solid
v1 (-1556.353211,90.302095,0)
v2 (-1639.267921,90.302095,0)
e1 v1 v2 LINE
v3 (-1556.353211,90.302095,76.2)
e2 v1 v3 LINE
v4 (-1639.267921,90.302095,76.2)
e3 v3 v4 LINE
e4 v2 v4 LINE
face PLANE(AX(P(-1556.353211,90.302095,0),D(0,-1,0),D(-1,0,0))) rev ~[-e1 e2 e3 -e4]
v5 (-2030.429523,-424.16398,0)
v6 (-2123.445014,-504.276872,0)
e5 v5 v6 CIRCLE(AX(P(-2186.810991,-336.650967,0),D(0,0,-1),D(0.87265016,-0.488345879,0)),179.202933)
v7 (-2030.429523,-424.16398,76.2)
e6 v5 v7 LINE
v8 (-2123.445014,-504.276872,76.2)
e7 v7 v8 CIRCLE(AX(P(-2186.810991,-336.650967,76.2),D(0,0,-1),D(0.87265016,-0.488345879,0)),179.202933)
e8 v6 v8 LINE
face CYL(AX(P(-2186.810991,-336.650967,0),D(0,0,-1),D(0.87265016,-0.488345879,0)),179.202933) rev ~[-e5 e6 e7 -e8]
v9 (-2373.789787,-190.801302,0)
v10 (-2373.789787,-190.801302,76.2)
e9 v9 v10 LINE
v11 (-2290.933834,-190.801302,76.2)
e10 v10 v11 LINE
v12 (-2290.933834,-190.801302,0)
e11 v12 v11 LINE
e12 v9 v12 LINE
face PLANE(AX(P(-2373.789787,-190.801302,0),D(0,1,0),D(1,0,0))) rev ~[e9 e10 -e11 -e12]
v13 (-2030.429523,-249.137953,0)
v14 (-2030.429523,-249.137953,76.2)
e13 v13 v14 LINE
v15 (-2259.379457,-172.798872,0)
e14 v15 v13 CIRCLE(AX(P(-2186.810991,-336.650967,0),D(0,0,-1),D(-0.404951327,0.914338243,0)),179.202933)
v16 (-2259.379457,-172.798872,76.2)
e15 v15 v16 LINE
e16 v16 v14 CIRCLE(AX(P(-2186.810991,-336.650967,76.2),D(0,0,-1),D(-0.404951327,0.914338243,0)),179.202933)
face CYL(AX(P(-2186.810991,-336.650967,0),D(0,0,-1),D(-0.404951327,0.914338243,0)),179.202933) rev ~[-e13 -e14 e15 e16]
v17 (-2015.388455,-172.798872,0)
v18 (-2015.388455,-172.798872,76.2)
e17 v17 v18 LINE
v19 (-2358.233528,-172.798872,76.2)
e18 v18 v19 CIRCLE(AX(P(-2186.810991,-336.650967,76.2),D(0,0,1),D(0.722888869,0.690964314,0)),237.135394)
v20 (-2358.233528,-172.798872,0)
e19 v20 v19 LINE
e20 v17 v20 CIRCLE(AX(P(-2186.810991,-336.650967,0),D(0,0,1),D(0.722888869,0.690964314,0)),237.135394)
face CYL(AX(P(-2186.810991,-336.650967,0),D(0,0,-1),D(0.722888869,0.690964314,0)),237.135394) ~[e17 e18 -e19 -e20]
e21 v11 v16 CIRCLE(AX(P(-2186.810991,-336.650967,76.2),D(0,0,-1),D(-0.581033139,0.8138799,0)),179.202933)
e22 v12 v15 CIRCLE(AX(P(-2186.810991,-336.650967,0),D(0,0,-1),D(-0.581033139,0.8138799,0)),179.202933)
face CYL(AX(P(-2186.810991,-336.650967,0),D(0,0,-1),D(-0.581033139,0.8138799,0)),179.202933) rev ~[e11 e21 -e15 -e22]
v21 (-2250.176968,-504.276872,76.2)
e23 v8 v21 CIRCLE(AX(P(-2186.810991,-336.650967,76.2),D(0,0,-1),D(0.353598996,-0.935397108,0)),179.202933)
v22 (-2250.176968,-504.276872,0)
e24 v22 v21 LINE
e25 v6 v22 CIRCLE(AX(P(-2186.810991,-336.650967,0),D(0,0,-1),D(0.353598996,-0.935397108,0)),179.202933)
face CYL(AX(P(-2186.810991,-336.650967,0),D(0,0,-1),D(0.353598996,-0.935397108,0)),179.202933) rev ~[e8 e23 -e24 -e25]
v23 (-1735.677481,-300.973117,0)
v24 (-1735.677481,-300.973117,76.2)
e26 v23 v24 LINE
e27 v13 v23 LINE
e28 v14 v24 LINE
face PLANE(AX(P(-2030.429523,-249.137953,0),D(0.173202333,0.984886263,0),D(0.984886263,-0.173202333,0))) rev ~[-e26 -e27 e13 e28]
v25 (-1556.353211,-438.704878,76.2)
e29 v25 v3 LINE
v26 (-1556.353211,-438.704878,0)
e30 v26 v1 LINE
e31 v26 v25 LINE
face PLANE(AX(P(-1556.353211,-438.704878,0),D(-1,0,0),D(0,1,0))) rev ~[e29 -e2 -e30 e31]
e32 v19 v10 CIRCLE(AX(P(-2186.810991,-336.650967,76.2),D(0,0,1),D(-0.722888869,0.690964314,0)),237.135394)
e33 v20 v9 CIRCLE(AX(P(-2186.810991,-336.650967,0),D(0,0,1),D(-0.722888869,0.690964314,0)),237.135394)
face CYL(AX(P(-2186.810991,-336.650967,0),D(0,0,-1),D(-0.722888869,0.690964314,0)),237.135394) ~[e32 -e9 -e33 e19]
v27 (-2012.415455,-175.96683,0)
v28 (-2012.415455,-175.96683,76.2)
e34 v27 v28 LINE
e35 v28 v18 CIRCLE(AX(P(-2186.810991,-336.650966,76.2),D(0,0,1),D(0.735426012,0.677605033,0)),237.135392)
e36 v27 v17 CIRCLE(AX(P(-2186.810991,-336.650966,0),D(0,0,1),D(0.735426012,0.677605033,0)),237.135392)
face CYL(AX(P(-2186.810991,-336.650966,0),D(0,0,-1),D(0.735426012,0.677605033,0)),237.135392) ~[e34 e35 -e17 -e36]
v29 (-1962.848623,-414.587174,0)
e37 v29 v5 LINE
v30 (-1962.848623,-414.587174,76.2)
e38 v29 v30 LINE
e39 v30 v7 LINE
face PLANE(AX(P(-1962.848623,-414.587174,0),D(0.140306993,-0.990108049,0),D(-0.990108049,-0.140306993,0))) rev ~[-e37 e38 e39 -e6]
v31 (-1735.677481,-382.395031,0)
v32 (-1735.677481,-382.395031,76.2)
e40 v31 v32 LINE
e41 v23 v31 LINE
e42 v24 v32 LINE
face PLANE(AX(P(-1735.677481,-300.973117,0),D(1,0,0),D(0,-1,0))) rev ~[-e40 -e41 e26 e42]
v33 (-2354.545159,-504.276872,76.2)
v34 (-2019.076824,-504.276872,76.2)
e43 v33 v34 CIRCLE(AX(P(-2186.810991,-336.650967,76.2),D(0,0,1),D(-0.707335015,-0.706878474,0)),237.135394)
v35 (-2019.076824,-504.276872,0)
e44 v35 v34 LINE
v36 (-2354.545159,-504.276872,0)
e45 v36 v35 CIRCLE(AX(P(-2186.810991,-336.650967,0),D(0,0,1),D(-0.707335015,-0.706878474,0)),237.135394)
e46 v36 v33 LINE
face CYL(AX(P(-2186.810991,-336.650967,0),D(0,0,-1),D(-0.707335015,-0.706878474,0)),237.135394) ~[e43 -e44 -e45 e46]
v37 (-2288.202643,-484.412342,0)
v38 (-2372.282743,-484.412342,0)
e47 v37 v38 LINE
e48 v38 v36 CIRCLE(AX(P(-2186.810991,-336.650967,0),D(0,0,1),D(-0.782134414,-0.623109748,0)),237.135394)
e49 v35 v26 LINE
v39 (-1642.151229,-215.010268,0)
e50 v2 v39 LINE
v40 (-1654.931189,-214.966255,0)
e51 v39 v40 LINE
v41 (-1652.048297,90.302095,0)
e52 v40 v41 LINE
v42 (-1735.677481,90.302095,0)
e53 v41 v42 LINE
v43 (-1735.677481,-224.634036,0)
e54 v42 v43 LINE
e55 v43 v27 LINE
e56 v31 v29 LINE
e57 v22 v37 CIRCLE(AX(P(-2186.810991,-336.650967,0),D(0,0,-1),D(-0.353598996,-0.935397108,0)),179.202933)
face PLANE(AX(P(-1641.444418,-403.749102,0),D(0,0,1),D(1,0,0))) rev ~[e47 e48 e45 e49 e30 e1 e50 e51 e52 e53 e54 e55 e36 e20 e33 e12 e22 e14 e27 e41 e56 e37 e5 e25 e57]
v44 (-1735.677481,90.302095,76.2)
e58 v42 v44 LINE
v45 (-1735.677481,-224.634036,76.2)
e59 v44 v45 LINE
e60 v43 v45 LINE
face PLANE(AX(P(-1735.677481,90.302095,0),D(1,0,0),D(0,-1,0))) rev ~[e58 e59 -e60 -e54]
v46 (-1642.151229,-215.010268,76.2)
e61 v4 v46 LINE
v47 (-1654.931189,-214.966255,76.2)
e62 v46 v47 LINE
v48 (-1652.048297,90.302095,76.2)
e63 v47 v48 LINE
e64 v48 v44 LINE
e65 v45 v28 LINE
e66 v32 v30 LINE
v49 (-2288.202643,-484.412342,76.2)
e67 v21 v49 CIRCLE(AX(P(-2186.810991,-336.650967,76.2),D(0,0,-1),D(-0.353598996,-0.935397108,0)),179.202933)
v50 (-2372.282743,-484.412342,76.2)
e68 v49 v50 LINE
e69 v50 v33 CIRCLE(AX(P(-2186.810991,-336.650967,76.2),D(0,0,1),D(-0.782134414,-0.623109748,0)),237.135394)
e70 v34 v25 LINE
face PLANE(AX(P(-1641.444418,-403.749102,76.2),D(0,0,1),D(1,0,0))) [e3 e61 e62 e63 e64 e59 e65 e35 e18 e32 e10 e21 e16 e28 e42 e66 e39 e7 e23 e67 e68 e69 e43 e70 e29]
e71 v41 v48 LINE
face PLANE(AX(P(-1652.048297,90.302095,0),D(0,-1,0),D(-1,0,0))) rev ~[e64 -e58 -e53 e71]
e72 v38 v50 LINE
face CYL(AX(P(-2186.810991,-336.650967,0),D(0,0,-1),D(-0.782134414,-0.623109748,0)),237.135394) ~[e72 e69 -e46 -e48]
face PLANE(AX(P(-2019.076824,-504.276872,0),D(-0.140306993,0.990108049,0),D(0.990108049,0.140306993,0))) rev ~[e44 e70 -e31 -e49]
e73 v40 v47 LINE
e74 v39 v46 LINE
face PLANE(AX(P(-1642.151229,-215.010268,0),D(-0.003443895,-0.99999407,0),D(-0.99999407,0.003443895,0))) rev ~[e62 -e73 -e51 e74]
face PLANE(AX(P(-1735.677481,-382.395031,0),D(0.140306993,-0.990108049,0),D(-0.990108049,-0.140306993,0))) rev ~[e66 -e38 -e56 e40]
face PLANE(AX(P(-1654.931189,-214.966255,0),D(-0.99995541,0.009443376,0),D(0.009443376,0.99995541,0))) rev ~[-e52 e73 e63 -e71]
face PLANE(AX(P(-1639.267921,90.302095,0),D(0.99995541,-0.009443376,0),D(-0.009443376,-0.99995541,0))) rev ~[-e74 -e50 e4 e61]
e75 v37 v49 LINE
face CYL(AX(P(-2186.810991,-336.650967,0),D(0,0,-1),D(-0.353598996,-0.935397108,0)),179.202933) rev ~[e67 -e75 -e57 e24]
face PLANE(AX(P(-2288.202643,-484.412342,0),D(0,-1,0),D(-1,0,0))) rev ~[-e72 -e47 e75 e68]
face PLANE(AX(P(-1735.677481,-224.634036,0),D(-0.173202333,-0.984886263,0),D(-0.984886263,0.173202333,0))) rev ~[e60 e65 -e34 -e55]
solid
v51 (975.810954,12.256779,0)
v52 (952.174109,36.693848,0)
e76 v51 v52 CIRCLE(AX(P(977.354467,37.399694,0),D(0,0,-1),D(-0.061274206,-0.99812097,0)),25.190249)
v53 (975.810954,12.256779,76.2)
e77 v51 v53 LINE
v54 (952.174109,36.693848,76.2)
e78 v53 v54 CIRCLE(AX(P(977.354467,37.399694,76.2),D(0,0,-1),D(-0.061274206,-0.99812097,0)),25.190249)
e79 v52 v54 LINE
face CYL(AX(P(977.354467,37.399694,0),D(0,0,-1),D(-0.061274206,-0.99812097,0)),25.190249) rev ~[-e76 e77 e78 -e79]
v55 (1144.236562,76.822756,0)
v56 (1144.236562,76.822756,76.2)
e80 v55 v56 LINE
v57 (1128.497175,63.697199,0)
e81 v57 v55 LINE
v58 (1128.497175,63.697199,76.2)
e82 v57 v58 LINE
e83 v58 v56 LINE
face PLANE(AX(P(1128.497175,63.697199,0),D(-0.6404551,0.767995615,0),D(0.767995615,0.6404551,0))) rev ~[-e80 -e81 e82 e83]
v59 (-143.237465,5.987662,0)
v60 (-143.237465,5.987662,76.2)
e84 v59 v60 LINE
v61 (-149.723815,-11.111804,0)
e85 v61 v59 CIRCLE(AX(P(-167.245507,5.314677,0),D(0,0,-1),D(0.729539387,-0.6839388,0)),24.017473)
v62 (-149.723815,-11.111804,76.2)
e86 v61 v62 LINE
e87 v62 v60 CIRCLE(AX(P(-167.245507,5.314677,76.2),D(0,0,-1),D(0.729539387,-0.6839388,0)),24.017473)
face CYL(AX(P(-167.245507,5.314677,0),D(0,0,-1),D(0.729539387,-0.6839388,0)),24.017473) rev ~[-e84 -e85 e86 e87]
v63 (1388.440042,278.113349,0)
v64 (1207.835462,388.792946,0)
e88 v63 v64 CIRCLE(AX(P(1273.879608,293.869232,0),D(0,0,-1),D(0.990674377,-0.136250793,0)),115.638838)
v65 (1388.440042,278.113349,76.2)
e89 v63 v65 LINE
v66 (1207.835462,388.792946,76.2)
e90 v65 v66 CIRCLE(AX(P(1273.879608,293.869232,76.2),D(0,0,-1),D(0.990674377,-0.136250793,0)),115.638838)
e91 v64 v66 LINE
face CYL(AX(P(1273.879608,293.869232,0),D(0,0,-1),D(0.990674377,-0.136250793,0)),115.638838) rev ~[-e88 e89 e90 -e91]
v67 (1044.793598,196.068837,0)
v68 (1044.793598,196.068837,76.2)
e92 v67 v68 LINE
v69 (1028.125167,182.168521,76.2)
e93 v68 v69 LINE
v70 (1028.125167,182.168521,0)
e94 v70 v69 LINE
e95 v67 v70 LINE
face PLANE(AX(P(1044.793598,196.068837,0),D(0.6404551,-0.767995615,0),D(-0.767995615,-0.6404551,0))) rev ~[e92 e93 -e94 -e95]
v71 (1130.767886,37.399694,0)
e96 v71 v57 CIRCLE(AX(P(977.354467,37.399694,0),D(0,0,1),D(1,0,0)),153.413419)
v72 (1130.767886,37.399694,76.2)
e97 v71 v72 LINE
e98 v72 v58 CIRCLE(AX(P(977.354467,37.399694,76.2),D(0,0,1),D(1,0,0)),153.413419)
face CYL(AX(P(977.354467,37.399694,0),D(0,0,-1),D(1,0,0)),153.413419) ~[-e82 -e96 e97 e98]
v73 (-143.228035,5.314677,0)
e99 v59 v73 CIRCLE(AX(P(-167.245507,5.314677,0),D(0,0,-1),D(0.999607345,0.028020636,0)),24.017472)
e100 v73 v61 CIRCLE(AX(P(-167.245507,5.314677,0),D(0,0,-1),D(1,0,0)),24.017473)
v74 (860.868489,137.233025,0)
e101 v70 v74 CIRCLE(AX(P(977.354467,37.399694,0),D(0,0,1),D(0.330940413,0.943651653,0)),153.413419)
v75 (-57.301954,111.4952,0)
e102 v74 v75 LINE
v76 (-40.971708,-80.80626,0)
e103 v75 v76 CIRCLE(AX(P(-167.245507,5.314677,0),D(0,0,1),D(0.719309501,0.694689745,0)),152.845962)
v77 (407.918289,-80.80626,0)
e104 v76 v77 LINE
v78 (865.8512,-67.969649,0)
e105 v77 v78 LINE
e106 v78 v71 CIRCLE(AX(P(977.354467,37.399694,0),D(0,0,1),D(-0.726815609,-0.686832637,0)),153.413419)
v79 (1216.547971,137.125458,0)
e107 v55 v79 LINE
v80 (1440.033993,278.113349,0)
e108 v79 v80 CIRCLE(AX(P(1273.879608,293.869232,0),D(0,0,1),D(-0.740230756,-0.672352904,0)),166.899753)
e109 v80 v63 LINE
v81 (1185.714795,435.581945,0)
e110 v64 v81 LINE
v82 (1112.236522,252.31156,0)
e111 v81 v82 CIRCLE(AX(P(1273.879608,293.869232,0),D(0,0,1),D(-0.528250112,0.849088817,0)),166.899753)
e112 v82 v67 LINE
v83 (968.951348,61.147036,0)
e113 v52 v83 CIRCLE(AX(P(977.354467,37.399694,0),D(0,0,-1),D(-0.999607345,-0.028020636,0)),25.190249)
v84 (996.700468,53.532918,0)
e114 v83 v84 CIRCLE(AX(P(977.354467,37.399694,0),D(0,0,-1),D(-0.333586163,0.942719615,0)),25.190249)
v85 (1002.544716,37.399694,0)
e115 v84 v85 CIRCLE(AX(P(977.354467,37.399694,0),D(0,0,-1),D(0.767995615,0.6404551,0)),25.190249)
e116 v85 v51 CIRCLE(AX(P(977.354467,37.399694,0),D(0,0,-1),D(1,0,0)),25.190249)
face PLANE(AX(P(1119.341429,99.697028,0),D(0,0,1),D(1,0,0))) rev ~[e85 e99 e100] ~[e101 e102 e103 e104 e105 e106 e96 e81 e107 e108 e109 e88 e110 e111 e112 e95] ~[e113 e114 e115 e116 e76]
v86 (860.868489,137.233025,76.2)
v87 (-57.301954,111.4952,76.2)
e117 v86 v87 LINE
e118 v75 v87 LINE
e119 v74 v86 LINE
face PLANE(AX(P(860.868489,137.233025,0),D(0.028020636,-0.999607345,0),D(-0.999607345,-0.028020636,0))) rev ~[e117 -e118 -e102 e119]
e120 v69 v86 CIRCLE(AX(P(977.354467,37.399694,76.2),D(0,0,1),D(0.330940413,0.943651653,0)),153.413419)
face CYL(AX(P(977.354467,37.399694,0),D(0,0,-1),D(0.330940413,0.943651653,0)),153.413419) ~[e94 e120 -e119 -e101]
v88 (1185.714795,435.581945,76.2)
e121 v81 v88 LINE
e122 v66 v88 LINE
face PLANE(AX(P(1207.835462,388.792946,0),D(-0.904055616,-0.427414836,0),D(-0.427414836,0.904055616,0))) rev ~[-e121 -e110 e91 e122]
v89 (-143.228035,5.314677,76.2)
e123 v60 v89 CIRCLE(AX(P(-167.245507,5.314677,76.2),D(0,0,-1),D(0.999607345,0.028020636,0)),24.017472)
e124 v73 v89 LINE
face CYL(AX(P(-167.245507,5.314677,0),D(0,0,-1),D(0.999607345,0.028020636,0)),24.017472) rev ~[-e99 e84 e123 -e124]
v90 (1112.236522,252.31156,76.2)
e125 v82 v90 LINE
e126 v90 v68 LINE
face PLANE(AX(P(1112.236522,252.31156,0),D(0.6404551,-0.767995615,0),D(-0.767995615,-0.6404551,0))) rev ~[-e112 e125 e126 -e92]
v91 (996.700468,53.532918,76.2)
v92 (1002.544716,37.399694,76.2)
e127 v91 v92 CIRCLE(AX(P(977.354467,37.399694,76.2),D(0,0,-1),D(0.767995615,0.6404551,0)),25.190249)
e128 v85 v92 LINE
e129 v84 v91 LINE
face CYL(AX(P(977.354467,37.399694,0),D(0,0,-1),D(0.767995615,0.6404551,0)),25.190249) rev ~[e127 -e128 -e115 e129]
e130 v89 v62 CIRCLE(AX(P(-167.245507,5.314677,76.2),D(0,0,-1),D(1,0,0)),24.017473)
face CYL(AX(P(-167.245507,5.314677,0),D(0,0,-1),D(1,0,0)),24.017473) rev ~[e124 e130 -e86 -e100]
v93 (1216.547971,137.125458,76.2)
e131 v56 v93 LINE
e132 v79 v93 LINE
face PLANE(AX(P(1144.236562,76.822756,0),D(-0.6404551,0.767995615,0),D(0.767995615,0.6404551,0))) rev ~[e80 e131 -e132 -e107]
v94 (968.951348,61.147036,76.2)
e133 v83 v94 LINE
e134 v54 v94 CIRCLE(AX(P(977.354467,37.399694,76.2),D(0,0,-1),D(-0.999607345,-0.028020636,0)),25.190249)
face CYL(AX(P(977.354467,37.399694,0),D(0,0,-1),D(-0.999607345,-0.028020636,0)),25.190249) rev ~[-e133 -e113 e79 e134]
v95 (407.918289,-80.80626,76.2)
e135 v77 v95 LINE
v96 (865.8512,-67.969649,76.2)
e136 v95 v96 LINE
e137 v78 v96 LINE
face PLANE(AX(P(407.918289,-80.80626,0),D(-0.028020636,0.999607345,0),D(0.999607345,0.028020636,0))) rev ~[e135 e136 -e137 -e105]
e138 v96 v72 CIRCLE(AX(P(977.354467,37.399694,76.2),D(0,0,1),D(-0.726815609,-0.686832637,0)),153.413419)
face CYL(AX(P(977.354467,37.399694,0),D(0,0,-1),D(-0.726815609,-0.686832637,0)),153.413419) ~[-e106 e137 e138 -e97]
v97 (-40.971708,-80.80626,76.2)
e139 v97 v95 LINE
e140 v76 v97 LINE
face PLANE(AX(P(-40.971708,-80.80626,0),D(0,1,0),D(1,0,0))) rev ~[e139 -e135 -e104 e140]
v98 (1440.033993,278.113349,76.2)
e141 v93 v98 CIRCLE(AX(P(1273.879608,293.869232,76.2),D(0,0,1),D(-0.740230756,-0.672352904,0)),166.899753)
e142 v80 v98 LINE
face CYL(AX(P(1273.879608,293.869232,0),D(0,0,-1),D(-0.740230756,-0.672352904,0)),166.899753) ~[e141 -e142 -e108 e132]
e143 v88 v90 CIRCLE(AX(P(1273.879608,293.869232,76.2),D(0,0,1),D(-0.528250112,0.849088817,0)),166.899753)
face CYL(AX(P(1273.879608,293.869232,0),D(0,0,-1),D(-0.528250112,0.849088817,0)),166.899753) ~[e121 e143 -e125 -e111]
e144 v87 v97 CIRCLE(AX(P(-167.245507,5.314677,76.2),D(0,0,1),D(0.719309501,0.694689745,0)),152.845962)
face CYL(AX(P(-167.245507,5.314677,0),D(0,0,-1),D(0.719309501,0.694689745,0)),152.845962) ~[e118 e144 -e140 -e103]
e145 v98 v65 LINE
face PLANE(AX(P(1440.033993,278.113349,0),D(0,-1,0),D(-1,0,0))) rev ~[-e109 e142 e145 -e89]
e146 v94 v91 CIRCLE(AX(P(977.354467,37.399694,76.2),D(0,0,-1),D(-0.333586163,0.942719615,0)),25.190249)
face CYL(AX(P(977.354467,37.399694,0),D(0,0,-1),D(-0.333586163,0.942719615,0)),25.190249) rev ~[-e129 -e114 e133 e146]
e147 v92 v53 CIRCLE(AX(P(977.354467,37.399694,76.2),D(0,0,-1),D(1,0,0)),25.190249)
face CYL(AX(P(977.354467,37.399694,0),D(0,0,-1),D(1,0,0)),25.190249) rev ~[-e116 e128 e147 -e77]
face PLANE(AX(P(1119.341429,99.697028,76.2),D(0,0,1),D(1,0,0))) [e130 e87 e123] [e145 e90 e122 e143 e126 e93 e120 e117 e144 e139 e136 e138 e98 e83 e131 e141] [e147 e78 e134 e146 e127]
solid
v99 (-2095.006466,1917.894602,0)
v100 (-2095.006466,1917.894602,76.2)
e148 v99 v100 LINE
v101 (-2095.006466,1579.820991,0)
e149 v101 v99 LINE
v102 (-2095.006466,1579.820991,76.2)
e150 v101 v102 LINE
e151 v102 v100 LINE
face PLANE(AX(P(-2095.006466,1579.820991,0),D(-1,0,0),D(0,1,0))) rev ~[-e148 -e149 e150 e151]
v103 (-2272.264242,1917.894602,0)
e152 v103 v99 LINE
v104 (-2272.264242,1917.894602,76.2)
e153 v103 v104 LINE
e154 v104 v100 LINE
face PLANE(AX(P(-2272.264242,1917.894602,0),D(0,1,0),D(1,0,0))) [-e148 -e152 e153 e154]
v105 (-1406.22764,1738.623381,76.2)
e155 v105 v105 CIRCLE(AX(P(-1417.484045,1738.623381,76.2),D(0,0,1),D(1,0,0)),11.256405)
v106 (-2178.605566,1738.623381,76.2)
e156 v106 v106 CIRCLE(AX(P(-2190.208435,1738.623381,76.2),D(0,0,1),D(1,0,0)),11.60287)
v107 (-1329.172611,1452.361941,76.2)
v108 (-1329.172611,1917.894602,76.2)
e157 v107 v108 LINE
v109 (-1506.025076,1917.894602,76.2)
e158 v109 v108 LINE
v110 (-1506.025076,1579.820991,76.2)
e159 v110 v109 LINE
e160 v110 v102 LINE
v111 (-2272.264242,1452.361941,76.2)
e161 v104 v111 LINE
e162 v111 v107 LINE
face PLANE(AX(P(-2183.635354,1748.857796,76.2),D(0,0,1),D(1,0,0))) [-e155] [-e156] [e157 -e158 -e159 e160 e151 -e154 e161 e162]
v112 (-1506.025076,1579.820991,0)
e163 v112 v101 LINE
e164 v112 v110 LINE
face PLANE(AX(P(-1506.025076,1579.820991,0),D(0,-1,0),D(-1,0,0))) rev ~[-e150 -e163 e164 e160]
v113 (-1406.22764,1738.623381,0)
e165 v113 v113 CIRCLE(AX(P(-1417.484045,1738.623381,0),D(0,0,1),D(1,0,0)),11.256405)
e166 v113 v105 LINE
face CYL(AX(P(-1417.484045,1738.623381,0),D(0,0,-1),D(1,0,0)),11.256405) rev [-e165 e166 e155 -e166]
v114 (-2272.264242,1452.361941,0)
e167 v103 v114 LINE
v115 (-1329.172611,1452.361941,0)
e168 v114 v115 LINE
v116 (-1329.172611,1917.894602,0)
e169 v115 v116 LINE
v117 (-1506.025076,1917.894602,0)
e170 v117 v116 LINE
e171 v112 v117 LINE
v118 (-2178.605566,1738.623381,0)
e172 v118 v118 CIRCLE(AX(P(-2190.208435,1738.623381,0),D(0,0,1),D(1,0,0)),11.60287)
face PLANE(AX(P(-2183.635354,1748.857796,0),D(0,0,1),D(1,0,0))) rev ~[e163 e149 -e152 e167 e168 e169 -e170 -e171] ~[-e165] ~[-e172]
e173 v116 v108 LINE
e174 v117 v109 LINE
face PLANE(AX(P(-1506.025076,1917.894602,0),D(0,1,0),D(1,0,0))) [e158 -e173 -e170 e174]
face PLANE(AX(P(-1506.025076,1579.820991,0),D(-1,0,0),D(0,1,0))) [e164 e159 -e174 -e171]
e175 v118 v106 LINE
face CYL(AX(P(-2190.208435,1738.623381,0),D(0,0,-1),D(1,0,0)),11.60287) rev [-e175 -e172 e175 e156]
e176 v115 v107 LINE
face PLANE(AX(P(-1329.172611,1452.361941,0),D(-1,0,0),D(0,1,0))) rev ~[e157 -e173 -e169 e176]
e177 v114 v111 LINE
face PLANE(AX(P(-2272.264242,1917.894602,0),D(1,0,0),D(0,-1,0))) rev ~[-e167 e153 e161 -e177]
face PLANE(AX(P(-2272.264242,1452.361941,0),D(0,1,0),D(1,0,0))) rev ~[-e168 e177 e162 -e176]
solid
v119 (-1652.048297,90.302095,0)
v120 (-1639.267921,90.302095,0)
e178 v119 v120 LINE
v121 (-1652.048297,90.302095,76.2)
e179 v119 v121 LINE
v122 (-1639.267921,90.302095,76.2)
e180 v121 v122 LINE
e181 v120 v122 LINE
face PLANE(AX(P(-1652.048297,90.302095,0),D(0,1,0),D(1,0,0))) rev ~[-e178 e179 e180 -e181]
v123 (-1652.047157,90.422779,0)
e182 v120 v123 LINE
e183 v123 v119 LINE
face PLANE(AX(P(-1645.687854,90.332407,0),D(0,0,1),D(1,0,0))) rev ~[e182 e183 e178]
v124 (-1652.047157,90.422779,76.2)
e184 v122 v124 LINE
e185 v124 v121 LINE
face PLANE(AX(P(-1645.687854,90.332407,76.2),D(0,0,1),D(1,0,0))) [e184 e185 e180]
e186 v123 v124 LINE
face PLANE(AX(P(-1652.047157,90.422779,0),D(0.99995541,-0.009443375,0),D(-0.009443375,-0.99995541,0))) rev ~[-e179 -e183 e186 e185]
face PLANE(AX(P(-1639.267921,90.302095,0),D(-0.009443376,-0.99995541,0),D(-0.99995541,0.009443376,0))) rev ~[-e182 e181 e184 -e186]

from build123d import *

# Parameters (mm, degrees)
F1_DEPTH = 76.2
F3_DEPTH = 76.2
F4_W     = 177.2577762604
F4_H     = 338.0736112595
F4_R     = 11.6028695054
F4_W_2   = 176.8524646759
F4_R_2   = 11.2564054706
F5_DEPTH = 76.2


with BuildPart() as f1:
    # F0 (on Top) → F1 (new body)
    with BuildSketch(Plane.XY):
        with BuildLine():
            ThreePointArc((1095.1752997667, 135.6541007105), (1116.5658010686, 101.8658208669), (1128.4971752627, 63.6971987989))
            Line((1128.4971752627, 63.6971987989), (1144.2365622902, 76.8227564091))
            Line((1144.2365622902, 76.8227564091), (1095.1752997667, 135.6541007105))
        make_face()
        with BuildLine():
            Line((1044.7935983844, 196.0688366559), (1028.1251670589, 182.1685205093))
            ThreePointArc((1028.1251670589, 182.1685205093), (1064.7997301472, 163.4512828361), (1095.1752997667, 135.6541007105))
            Line((1095.1752997667, 135.6541007105), (1044.7935983844, 196.0688366559))
        make_face()
        with BuildLine():
            ThreePointArc((-57.3019543636, 111.4951995236), (-26.3466717807, 64.5549196275), (-14.4595607319, 9.5975180566))
            Line((-14.4595607319, 9.5975180566), (405.0544798374, 21.357185673))
            Line((405.0544798374, 21.357185673), (402.1667251813, 124.3748612966))
            Line((402.1667251813, 124.3748612966), (-57.3019543636, 111.4951995236))
        make_face()
        with BuildLine():
            ThreePointArc((-57.3019543636, 111.4951995236), (-319.5433148438, -7.618457824), (-40.9717080637, -80.806260149))
            Line((-40.9717080637, -80.806260149), (-155.3050279617, -80.806260149))
            Line((-155.3050279617, -80.806260149), (-149.7238150028, -11.1118043692))
            ThreePointArc((-149.7238150028, -11.1118043692), (-191.1863363383, 7.2318864204), (-147.3329769737, 18.7433824014))
            Line((-147.3329769737, 18.7433824014), (-140.0911494629, 109.1744824022))
            Line((-140.0911494629, 109.1744824022), (-57.3019543636, 111.4951995236))
        make_face()
        with BuildLine():
            ThreePointArc((-14.4595607319, 9.5975180566), (-14.4145496581, 7.4563077804), (-14.3995449849, 5.3146770224))
            ThreePointArc((-14.3995449849, 5.3146770224), (-21.193584075, -39.7488771815), (-40.9717080637, -80.806260149))
            Line((-40.9717080637, -80.806260149), (407.9182890291, -80.806260149))
            Line((407.9182890291, -80.806260149), (405.0544798374, 21.357185673))
            Line((405.0544798374, 21.357185673), (-14.4595607319, 9.5975180566))
        make_face()
        with BuildLine():
            Line((402.1667251813, 124.3748612966), (405.0544798374, 21.357185673))
            Line((405.0544798374, 21.357185673), (824.001286806, 33.1009527998))
            ThreePointArc((824.001286806, 33.1009527998), (832.7371617864, 88.6003982795), (860.8684888632, 137.2330251583))
            Line((860.8684888632, 137.2330251583), (402.1667251813, 124.3748612966))
        make_face()
        with BuildLine():
            Line((824.001286806, 33.1009527998), (405.0544798374, 21.357185673))
            Line((405.0544798374, 21.357185673), (407.9182890291, -80.806260149))
            Line((407.9182890291, -80.806260149), (865.8511996058, -67.9696485027))
            ThreePointArc((865.8511996058, -67.9696485027), (835.6115621661, -21.2912417875), (824.001286806, 33.1009527998))
        make_face()
        with BuildLine():
            Line((1095.1752997667, 35.909064754), (1128.4971752627, 63.6971987989))
            ThreePointArc((1128.4971752627, 63.6971987989), (1116.5658010686, 101.8658208669), (1095.1752997667, 135.6541007105))
            Line((1095.1752997667, 135.6541007105), (1046.1140372432, 94.7404090553))
            Line((1046.1140372432, 94.7404090553), (1095.1752997667, 35.909064754))
        make_face()
        with BuildLine():
            Line((1044.7935983844, 196.0688366559), (1095.1752997667, 135.6541007105))
            Line((1095.1752997667, 135.6541007105), (1150.335278326, 181.6536987314))
            ThreePointArc((1150.335278326, 181.6536987314), (1126.9745407391, 214.6579417894), (1112.2365223529, 252.3115596035))
            Line((1112.2365223529, 252.3115596035), (1044.7935983844, 196.0688366559))
        make_face()
        with BuildLine():
            Line((1150.335278326, 181.6536987314), (1095.1752997667, 135.6541007105))
            Line((1095.1752997667, 135.6541007105), (1144.2365622902, 76.8227564091))
            Line((1144.2365622902, 76.8227564091), (1216.5479707423, 137.1254578967))
            ThreePointArc((1216.5479707423, 137.1254578967), (1180.7414315667, 155.3744399868), (1150.335278326, 181.6536987314))
        make_face()
        with BuildLine():
            Line((-143.2374652301, 5.9876618736), (-14.4595607319, 9.5975180566))
            ThreePointArc((-14.4595607319, 9.5975180566), (-26.3466717807, 64.5549196275), (-57.3019543636, 111.4951995236))
            Line((-57.3019543636, 111.4951995236), (-140.0911494629, 109.1744824022))
            Line((-140.0911494629, 109.1744824022), (-147.3329769737, 18.7433824014))
            ThreePointArc((-147.3329769737, 18.7433824014), (-144.3778167398, 12.6568647718), (-143.2374652301, 5.9876618736))
        make_face()
        with BuildLine():
            ThreePointArc((-40.9717080637, -80.806260149), (-21.193584075, -39.7488771815), (-14.3995449849, 5.3146770224))
            ThreePointArc((-14.3995449849, 5.3146770224), (-14.4145496581, 7.4563077804), (-14.4595607319, 9.5975180566))
            Line((-14.4595607319, 9.5975180566), (-143.2374652301, 5.9876618736))
            ThreePointArc((-143.2374652301, 5.9876618736), (-143.2303924084, 5.6512024842), (-143.2280346469, 5.3146770224))
            ThreePointArc((-143.2280346469, 5.3146770224), (-144.9109403889, -3.5174299366), (-149.7238150028, -11.1118043692))
            Line((-149.7238150028, -11.1118043692), (-155.3050279617, -80.806260149))
            Line((-155.3050279617, -80.806260149), (-40.9717080637, -80.806260149))
        make_face()
        with BuildLine():
            ThreePointArc((860.8684888632, 137.2330251583), (832.7371617864, 88.6003982795), (824.001286806, 33.1009527998))
            Line((824.001286806, 33.1009527998), (952.1741089641, 36.693847531))
            ThreePointArc((952.1741089641, 36.693847531), (956.5830422673, 51.6508895134), (968.9513483855, 61.1470361793))
            Line((968.9513483855, 61.1470361793), (960.3673065373, 122.327812016))
            Line((960.3673065373, 122.327812016), (960.3673065373, 140.0221404463))
            Line((960.3673065373, 140.0221404463), (860.8684888632, 137.2330251583))
        make_face()
        with BuildLine():
            Line((952.1741089641, 36.693847531), (824.001286806, 33.1009527998))
            ThreePointArc((824.001286806, 33.1009527998), (835.6115621661, -21.2912417875), (865.8511996058, -67.9696485027))
            Line((865.8511996058, -67.9696485027), (986.5923425929, -64.5850759453))
            Line((986.5923425929, -64.5850759453), (975.8109543977, 12.2567785152))
            ThreePointArc((975.8109543977, 12.2567785152), (959.2482829239, 19.886420857), (952.1741089641, 36.693847531))
        make_face()
        with BuildLine():
            Line((986.5923425929, -64.5850759453), (865.8511996058, -67.9696485027))
            ThreePointArc((865.8511996058, -67.9696485027), (1034.0535832989, -105.151655125), (1130.767885586, 37.3996943235))
            ThreePointArc((1130.767885586, 37.3996943235), (1130.1991538085, 50.5973727842), (1128.4971752627, 63.6971987989))
            Line((1128.4971752627, 63.6971987989), (1095.1752997667, 35.909064754))
            Line((1095.1752997667, 35.909064754), (1046.1140372432, 94.7404090553))
            Line((1046.1140372432, 94.7404090553), (996.7004677166, 53.5329177841))
            ThreePointArc((996.7004677166, 53.5329177841), (1001.0386306557, 45.9792650674), (1002.544715946, 37.3996943235))
            ThreePointArc((1002.544715946, 37.3996943235), (994.6123228298, 19.049897173), (975.8109543977, 12.2567785152))
            Line((975.8109543977, 12.2567785152), (986.5923425929, -64.5850759453))
        make_face()
        with BuildLine():
            ThreePointArc((1112.2365223529, 252.3115596035), (1126.9745407391, 214.6579417894), (1150.335278326, 181.6536987314))
            Line((1150.335278326, 181.6536987314), (1189.7543229351, 214.5264491157))
            ThreePointArc((1189.7543229351, 214.5264491157), (1158.8582295045, 305.8033531838), (1207.8354615505, 388.7929461858))
            Line((1207.8354615505, 388.7929461858), (1185.7147954199, 435.5819454318))
            ThreePointArc((1185.7147954199, 435.5819454318), (1118.9667129191, 355.9781863812), (1112.2365223529, 252.3115596035))
        make_face()
        with BuildLine():
            Line((1189.7543229351, 214.5264491157), (1150.335278326, 181.6536987314))
            ThreePointArc((1150.335278326, 181.6536987314), (1180.7414315667, 155.3744399868), (1216.5479707423, 137.1254578967))
            ThreePointArc((1216.5479707423, 137.1254578967), (1362.9301215678, 152.7114001502), (1440.033993001, 278.1133486449))
            Line((1440.033993001, 278.1133486449), (1388.4400421367, 278.1133486449))
            ThreePointArc((1388.4400421367, 278.1133486449), (1309.127275122, 183.7332123048), (1189.7543229351, 214.5264491157))
        make_face()
        with BuildLine():
            ThreePointArc((1028.1251670589, 182.1685205093), (937.5496415387, 185.5592465132), (860.8684888632, 137.2330251583))
            Line((860.8684888632, 137.2330251583), (960.3673065373, 140.0221404463))
            Line((960.3673065373, 140.0221404463), (960.3673065373, 122.327812016))
            Line((960.3673065373, 122.327812016), (968.9513483855, 61.1470361793))
            ThreePointArc((968.9513483855, 61.1470361793), (984.0200777527, 61.6920445269), (996.7004677166, 53.5329177841))
            Line((996.7004677166, 53.5329177841), (1046.1140372432, 94.7404090553))
            Line((1046.1140372432, 94.7404090553), (1095.1752997667, 135.6541007105))
            ThreePointArc((1095.1752997667, 135.6541007105), (1064.7997301472, 163.4512828361), (1028.1251670589, 182.1685205093))
        make_face()
    extrude(amount=F1_DEPTH)


with BuildPart() as f3:
    # F2 (on Top) → F3 (new body)
    with BuildSketch(Plane.XY):
        Polygon((-1652.0482970075, 90.3020948172), (-1646.0153460503, 90.3020948172), (-1639.2679214478, 90.3020948172), (-1652.0471572876, 90.4227793217), align=None)
    extrude(amount=F3_DEPTH)


with BuildPart() as f3b:
    # F2 (on Top) → F3, piece 2 (new body)
    with BuildSketch(Plane.XY):
        Polygon((-1556.3532114029, -438.7048780918), (-1556.3532114029, -356.9832097116), (-1735.6774806976, -382.3950311785), (-1735.6774806976, -438.7048780918), align=None)
        with BuildLine():
            Line((-2030.4295234081, -172.798871994), (-2012.4154545584, -175.9668304321))
            ThreePointArc((-2012.4154545584, -175.9668304321), (-2013.8946997096, -174.3760426155), (-2015.3884550194, -172.798871994))
            Line((-2015.3884550194, -172.798871994), (-2030.4295234081, -172.798871994))
        make_face()
        with BuildLine():
            Line((-2019.0768241882, -504.2768716812), (-1556.3532114029, -438.7048780918))
            Line((-1556.3532114029, -438.7048780918), (-1735.6774806976, -438.7048780918))
            Line((-1735.6774806976, -438.7048780918), (-1735.6774806976, -382.3950311785))
            Line((-1735.6774806976, -382.3950311785), (-1962.8486229975, -414.587174123))
            ThreePointArc((-1962.8486229975, -414.5871741231), (-1985.8940820433, -462.6096520454), (-2019.0768241882, -504.2768716812))
        make_face()
        with BuildLine():
            Line((-1735.6774806976, -300.9731173515), (-1735.6774806976, -224.6340364218))
            Line((-1735.6774806976, -224.6340364218), (-2012.4154545584, -175.9668304321))
            ThreePointArc((-2012.4154545584, -175.9668304321), (-1982.7165245575, -215.9089130519), (-1962.0091323813, -261.1703791844))
            Line((-1962.0091323813, -261.1703791844), (-1735.6774806976, -300.9731173515))
        make_face()
        with BuildLine():
            Line((-2030.4295234081, -424.1639803332), (-2019.0768241882, -504.2768716812))
            ThreePointArc((-2019.0768241882, -504.2768716812), (-1985.8940820433, -462.6096520454), (-1962.8486229975, -414.5871741231))
            Line((-1962.8486229975, -414.587174123), (-2030.4295234081, -424.1639803332))
        make_face()
        with BuildLine():
            Line((-2123.4450143506, -504.2768716812), (-2019.0768241882, -504.2768716812))
            Line((-2019.0768241882, -504.2768716812), (-2030.4295234081, -424.1639803332))
            ThreePointArc((-2030.4295234081, -424.1639803332), (-2069.8633375497, -472.4336509258), (-2123.4450143506, -504.2768716812))
        make_face()
        with BuildLine():
            Line((-2259.37945677, -172.798871994), (-2358.2335277076, -172.798871994))
            ThreePointArc((-2358.2335277076, -172.798871994), (-2366.2375797297, -181.6048629367), (-2373.7897872925, -190.8013017139))
            Line((-2373.7897872925, -190.8013017139), (-2290.9338338711, -190.8013017139))
            ThreePointArc((-2290.9338338711, -190.8013017139), (-2275.6140118192, -180.9984220123), (-2259.37945677, -172.798871994))
        make_face()
        with BuildLine():
            ThreePointArc((-2372.282743454, -484.4123420255), (-2363.6930289923, -494.5938032721), (-2354.5451585388, -504.2768716812))
            Line((-2354.5451585388, -504.2768716812), (-2250.1769683764, -504.2768716812))
            ThreePointArc((-2250.1769683764, -504.2768716812), (-2269.7864030039, -495.486643196), (-2288.2026430333, -484.4123420255))
            Line((-2288.2026430333, -484.4123420255), (-2372.282743454, -484.4123420255))
        make_face()
        with BuildLine():
            ThreePointArc((-2354.5451585388, -504.2768716812), (-2186.8109913635, -573.7863601966), (-2019.0768241882, -504.2768716812))
            Line((-2019.0768241882, -504.2768716812), (-2123.4450143506, -504.2768716812))
            ThreePointArc((-2123.4450143506, -504.2768716812), (-2186.8109913635, -515.8538993264), (-2250.1769683764, -504.2768716812))
            Line((-2250.1769683764, -504.2768716812), (-2354.5451585388, -504.2768716812))
        make_face()
        Polygon((-1556.3532114029, 90.3020948172), (-1639.2679214478, 90.3020948172), (-1642.1512293129, -215.0102678422), (-1654.9311892219, -214.9662547422), (-1652.0482970075, 90.3020948172), (-1735.6774806976, 90.3020948172), (-1735.6774806976, -224.6340364218), (-1735.6774806976, -300.9731173515), (-1735.6774806976, -382.3950311785), (-1556.3532114029, -356.9832097116), align=None)
        with BuildLine():
            ThreePointArc((-1962.0091323813, -261.1703791844), (-1982.7165245575, -215.9089130519), (-2012.4154545584, -175.9668304321))
            Line((-2012.4154545584, -175.9668304321), (-2030.4295234081, -172.798871994))
            Line((-2030.4295234081, -172.798871994), (-2030.4295234081, -249.1379529238))
            Line((-2030.4295234081, -249.1379529238), (-1962.0091323813, -261.1703791844))
        make_face()
        with BuildLine():
            Line((-2114.242525957, -172.798871994), (-2030.4295234081, -172.798871994))
            Line((-2030.4295234081, -172.798871994), (-2015.3884550194, -172.798871994))
            ThreePointArc((-2015.3884550194, -172.798871994), (-2186.8109913635, -99.5155730603), (-2358.2335277076, -172.798871994))
            Line((-2358.2335277076, -172.798871994), (-2259.37945677, -172.798871994))
            ThreePointArc((-2259.37945677, -172.798871994), (-2186.8109913635, -157.4480339305), (-2114.242525957, -172.798871994))
        make_face()
        with BuildLine():
            Line((-2030.4295234081, -249.1379529238), (-2030.4295234081, -172.798871994))
            Line((-2030.4295234081, -172.798871994), (-2114.242525957, -172.798871994))
            ThreePointArc((-2114.242525957, -172.798871994), (-2066.140233448, -204.1660268366), (-2030.4295234081, -249.1379529238))
        make_face()
    extrude(amount=F3_DEPTH)


with BuildPart() as f5:
    # F4 (on Top) → F5 (new body)
    with BuildSketch(Plane.XY):
        with Locations((-2183.6353540421, 1748.8577961922)):
            Rectangle(F4_W, F4_H)
        with Locations((-2190.2084350586, 1738.623380661)):
            Circle(F4_R, mode=Mode.SUBTRACT)
        Polygon((-1506.0250759125, 1579.8209905624), (-2095.0064659119, 1579.8209905624), (-2272.2642421722, 1579.8209905624), (-2272.2642421722, 1452.3619413376), (-1329.1726112366, 1452.3619413376), (-1329.1726112366, 1579.8209905624), align=None)
        with Locations((-1417.5988435745, 1748.8577961922)):
            Rectangle(F4_W_2, F4_H)
        with Locations((-1417.4840450287, 1738.623380661)):
            Circle(F4_R_2, mode=Mode.SUBTRACT)
    extrude(amount=F5_DEPTH)


solid = Compound([f1.part, f3.part, f3b.part, f5.part])
